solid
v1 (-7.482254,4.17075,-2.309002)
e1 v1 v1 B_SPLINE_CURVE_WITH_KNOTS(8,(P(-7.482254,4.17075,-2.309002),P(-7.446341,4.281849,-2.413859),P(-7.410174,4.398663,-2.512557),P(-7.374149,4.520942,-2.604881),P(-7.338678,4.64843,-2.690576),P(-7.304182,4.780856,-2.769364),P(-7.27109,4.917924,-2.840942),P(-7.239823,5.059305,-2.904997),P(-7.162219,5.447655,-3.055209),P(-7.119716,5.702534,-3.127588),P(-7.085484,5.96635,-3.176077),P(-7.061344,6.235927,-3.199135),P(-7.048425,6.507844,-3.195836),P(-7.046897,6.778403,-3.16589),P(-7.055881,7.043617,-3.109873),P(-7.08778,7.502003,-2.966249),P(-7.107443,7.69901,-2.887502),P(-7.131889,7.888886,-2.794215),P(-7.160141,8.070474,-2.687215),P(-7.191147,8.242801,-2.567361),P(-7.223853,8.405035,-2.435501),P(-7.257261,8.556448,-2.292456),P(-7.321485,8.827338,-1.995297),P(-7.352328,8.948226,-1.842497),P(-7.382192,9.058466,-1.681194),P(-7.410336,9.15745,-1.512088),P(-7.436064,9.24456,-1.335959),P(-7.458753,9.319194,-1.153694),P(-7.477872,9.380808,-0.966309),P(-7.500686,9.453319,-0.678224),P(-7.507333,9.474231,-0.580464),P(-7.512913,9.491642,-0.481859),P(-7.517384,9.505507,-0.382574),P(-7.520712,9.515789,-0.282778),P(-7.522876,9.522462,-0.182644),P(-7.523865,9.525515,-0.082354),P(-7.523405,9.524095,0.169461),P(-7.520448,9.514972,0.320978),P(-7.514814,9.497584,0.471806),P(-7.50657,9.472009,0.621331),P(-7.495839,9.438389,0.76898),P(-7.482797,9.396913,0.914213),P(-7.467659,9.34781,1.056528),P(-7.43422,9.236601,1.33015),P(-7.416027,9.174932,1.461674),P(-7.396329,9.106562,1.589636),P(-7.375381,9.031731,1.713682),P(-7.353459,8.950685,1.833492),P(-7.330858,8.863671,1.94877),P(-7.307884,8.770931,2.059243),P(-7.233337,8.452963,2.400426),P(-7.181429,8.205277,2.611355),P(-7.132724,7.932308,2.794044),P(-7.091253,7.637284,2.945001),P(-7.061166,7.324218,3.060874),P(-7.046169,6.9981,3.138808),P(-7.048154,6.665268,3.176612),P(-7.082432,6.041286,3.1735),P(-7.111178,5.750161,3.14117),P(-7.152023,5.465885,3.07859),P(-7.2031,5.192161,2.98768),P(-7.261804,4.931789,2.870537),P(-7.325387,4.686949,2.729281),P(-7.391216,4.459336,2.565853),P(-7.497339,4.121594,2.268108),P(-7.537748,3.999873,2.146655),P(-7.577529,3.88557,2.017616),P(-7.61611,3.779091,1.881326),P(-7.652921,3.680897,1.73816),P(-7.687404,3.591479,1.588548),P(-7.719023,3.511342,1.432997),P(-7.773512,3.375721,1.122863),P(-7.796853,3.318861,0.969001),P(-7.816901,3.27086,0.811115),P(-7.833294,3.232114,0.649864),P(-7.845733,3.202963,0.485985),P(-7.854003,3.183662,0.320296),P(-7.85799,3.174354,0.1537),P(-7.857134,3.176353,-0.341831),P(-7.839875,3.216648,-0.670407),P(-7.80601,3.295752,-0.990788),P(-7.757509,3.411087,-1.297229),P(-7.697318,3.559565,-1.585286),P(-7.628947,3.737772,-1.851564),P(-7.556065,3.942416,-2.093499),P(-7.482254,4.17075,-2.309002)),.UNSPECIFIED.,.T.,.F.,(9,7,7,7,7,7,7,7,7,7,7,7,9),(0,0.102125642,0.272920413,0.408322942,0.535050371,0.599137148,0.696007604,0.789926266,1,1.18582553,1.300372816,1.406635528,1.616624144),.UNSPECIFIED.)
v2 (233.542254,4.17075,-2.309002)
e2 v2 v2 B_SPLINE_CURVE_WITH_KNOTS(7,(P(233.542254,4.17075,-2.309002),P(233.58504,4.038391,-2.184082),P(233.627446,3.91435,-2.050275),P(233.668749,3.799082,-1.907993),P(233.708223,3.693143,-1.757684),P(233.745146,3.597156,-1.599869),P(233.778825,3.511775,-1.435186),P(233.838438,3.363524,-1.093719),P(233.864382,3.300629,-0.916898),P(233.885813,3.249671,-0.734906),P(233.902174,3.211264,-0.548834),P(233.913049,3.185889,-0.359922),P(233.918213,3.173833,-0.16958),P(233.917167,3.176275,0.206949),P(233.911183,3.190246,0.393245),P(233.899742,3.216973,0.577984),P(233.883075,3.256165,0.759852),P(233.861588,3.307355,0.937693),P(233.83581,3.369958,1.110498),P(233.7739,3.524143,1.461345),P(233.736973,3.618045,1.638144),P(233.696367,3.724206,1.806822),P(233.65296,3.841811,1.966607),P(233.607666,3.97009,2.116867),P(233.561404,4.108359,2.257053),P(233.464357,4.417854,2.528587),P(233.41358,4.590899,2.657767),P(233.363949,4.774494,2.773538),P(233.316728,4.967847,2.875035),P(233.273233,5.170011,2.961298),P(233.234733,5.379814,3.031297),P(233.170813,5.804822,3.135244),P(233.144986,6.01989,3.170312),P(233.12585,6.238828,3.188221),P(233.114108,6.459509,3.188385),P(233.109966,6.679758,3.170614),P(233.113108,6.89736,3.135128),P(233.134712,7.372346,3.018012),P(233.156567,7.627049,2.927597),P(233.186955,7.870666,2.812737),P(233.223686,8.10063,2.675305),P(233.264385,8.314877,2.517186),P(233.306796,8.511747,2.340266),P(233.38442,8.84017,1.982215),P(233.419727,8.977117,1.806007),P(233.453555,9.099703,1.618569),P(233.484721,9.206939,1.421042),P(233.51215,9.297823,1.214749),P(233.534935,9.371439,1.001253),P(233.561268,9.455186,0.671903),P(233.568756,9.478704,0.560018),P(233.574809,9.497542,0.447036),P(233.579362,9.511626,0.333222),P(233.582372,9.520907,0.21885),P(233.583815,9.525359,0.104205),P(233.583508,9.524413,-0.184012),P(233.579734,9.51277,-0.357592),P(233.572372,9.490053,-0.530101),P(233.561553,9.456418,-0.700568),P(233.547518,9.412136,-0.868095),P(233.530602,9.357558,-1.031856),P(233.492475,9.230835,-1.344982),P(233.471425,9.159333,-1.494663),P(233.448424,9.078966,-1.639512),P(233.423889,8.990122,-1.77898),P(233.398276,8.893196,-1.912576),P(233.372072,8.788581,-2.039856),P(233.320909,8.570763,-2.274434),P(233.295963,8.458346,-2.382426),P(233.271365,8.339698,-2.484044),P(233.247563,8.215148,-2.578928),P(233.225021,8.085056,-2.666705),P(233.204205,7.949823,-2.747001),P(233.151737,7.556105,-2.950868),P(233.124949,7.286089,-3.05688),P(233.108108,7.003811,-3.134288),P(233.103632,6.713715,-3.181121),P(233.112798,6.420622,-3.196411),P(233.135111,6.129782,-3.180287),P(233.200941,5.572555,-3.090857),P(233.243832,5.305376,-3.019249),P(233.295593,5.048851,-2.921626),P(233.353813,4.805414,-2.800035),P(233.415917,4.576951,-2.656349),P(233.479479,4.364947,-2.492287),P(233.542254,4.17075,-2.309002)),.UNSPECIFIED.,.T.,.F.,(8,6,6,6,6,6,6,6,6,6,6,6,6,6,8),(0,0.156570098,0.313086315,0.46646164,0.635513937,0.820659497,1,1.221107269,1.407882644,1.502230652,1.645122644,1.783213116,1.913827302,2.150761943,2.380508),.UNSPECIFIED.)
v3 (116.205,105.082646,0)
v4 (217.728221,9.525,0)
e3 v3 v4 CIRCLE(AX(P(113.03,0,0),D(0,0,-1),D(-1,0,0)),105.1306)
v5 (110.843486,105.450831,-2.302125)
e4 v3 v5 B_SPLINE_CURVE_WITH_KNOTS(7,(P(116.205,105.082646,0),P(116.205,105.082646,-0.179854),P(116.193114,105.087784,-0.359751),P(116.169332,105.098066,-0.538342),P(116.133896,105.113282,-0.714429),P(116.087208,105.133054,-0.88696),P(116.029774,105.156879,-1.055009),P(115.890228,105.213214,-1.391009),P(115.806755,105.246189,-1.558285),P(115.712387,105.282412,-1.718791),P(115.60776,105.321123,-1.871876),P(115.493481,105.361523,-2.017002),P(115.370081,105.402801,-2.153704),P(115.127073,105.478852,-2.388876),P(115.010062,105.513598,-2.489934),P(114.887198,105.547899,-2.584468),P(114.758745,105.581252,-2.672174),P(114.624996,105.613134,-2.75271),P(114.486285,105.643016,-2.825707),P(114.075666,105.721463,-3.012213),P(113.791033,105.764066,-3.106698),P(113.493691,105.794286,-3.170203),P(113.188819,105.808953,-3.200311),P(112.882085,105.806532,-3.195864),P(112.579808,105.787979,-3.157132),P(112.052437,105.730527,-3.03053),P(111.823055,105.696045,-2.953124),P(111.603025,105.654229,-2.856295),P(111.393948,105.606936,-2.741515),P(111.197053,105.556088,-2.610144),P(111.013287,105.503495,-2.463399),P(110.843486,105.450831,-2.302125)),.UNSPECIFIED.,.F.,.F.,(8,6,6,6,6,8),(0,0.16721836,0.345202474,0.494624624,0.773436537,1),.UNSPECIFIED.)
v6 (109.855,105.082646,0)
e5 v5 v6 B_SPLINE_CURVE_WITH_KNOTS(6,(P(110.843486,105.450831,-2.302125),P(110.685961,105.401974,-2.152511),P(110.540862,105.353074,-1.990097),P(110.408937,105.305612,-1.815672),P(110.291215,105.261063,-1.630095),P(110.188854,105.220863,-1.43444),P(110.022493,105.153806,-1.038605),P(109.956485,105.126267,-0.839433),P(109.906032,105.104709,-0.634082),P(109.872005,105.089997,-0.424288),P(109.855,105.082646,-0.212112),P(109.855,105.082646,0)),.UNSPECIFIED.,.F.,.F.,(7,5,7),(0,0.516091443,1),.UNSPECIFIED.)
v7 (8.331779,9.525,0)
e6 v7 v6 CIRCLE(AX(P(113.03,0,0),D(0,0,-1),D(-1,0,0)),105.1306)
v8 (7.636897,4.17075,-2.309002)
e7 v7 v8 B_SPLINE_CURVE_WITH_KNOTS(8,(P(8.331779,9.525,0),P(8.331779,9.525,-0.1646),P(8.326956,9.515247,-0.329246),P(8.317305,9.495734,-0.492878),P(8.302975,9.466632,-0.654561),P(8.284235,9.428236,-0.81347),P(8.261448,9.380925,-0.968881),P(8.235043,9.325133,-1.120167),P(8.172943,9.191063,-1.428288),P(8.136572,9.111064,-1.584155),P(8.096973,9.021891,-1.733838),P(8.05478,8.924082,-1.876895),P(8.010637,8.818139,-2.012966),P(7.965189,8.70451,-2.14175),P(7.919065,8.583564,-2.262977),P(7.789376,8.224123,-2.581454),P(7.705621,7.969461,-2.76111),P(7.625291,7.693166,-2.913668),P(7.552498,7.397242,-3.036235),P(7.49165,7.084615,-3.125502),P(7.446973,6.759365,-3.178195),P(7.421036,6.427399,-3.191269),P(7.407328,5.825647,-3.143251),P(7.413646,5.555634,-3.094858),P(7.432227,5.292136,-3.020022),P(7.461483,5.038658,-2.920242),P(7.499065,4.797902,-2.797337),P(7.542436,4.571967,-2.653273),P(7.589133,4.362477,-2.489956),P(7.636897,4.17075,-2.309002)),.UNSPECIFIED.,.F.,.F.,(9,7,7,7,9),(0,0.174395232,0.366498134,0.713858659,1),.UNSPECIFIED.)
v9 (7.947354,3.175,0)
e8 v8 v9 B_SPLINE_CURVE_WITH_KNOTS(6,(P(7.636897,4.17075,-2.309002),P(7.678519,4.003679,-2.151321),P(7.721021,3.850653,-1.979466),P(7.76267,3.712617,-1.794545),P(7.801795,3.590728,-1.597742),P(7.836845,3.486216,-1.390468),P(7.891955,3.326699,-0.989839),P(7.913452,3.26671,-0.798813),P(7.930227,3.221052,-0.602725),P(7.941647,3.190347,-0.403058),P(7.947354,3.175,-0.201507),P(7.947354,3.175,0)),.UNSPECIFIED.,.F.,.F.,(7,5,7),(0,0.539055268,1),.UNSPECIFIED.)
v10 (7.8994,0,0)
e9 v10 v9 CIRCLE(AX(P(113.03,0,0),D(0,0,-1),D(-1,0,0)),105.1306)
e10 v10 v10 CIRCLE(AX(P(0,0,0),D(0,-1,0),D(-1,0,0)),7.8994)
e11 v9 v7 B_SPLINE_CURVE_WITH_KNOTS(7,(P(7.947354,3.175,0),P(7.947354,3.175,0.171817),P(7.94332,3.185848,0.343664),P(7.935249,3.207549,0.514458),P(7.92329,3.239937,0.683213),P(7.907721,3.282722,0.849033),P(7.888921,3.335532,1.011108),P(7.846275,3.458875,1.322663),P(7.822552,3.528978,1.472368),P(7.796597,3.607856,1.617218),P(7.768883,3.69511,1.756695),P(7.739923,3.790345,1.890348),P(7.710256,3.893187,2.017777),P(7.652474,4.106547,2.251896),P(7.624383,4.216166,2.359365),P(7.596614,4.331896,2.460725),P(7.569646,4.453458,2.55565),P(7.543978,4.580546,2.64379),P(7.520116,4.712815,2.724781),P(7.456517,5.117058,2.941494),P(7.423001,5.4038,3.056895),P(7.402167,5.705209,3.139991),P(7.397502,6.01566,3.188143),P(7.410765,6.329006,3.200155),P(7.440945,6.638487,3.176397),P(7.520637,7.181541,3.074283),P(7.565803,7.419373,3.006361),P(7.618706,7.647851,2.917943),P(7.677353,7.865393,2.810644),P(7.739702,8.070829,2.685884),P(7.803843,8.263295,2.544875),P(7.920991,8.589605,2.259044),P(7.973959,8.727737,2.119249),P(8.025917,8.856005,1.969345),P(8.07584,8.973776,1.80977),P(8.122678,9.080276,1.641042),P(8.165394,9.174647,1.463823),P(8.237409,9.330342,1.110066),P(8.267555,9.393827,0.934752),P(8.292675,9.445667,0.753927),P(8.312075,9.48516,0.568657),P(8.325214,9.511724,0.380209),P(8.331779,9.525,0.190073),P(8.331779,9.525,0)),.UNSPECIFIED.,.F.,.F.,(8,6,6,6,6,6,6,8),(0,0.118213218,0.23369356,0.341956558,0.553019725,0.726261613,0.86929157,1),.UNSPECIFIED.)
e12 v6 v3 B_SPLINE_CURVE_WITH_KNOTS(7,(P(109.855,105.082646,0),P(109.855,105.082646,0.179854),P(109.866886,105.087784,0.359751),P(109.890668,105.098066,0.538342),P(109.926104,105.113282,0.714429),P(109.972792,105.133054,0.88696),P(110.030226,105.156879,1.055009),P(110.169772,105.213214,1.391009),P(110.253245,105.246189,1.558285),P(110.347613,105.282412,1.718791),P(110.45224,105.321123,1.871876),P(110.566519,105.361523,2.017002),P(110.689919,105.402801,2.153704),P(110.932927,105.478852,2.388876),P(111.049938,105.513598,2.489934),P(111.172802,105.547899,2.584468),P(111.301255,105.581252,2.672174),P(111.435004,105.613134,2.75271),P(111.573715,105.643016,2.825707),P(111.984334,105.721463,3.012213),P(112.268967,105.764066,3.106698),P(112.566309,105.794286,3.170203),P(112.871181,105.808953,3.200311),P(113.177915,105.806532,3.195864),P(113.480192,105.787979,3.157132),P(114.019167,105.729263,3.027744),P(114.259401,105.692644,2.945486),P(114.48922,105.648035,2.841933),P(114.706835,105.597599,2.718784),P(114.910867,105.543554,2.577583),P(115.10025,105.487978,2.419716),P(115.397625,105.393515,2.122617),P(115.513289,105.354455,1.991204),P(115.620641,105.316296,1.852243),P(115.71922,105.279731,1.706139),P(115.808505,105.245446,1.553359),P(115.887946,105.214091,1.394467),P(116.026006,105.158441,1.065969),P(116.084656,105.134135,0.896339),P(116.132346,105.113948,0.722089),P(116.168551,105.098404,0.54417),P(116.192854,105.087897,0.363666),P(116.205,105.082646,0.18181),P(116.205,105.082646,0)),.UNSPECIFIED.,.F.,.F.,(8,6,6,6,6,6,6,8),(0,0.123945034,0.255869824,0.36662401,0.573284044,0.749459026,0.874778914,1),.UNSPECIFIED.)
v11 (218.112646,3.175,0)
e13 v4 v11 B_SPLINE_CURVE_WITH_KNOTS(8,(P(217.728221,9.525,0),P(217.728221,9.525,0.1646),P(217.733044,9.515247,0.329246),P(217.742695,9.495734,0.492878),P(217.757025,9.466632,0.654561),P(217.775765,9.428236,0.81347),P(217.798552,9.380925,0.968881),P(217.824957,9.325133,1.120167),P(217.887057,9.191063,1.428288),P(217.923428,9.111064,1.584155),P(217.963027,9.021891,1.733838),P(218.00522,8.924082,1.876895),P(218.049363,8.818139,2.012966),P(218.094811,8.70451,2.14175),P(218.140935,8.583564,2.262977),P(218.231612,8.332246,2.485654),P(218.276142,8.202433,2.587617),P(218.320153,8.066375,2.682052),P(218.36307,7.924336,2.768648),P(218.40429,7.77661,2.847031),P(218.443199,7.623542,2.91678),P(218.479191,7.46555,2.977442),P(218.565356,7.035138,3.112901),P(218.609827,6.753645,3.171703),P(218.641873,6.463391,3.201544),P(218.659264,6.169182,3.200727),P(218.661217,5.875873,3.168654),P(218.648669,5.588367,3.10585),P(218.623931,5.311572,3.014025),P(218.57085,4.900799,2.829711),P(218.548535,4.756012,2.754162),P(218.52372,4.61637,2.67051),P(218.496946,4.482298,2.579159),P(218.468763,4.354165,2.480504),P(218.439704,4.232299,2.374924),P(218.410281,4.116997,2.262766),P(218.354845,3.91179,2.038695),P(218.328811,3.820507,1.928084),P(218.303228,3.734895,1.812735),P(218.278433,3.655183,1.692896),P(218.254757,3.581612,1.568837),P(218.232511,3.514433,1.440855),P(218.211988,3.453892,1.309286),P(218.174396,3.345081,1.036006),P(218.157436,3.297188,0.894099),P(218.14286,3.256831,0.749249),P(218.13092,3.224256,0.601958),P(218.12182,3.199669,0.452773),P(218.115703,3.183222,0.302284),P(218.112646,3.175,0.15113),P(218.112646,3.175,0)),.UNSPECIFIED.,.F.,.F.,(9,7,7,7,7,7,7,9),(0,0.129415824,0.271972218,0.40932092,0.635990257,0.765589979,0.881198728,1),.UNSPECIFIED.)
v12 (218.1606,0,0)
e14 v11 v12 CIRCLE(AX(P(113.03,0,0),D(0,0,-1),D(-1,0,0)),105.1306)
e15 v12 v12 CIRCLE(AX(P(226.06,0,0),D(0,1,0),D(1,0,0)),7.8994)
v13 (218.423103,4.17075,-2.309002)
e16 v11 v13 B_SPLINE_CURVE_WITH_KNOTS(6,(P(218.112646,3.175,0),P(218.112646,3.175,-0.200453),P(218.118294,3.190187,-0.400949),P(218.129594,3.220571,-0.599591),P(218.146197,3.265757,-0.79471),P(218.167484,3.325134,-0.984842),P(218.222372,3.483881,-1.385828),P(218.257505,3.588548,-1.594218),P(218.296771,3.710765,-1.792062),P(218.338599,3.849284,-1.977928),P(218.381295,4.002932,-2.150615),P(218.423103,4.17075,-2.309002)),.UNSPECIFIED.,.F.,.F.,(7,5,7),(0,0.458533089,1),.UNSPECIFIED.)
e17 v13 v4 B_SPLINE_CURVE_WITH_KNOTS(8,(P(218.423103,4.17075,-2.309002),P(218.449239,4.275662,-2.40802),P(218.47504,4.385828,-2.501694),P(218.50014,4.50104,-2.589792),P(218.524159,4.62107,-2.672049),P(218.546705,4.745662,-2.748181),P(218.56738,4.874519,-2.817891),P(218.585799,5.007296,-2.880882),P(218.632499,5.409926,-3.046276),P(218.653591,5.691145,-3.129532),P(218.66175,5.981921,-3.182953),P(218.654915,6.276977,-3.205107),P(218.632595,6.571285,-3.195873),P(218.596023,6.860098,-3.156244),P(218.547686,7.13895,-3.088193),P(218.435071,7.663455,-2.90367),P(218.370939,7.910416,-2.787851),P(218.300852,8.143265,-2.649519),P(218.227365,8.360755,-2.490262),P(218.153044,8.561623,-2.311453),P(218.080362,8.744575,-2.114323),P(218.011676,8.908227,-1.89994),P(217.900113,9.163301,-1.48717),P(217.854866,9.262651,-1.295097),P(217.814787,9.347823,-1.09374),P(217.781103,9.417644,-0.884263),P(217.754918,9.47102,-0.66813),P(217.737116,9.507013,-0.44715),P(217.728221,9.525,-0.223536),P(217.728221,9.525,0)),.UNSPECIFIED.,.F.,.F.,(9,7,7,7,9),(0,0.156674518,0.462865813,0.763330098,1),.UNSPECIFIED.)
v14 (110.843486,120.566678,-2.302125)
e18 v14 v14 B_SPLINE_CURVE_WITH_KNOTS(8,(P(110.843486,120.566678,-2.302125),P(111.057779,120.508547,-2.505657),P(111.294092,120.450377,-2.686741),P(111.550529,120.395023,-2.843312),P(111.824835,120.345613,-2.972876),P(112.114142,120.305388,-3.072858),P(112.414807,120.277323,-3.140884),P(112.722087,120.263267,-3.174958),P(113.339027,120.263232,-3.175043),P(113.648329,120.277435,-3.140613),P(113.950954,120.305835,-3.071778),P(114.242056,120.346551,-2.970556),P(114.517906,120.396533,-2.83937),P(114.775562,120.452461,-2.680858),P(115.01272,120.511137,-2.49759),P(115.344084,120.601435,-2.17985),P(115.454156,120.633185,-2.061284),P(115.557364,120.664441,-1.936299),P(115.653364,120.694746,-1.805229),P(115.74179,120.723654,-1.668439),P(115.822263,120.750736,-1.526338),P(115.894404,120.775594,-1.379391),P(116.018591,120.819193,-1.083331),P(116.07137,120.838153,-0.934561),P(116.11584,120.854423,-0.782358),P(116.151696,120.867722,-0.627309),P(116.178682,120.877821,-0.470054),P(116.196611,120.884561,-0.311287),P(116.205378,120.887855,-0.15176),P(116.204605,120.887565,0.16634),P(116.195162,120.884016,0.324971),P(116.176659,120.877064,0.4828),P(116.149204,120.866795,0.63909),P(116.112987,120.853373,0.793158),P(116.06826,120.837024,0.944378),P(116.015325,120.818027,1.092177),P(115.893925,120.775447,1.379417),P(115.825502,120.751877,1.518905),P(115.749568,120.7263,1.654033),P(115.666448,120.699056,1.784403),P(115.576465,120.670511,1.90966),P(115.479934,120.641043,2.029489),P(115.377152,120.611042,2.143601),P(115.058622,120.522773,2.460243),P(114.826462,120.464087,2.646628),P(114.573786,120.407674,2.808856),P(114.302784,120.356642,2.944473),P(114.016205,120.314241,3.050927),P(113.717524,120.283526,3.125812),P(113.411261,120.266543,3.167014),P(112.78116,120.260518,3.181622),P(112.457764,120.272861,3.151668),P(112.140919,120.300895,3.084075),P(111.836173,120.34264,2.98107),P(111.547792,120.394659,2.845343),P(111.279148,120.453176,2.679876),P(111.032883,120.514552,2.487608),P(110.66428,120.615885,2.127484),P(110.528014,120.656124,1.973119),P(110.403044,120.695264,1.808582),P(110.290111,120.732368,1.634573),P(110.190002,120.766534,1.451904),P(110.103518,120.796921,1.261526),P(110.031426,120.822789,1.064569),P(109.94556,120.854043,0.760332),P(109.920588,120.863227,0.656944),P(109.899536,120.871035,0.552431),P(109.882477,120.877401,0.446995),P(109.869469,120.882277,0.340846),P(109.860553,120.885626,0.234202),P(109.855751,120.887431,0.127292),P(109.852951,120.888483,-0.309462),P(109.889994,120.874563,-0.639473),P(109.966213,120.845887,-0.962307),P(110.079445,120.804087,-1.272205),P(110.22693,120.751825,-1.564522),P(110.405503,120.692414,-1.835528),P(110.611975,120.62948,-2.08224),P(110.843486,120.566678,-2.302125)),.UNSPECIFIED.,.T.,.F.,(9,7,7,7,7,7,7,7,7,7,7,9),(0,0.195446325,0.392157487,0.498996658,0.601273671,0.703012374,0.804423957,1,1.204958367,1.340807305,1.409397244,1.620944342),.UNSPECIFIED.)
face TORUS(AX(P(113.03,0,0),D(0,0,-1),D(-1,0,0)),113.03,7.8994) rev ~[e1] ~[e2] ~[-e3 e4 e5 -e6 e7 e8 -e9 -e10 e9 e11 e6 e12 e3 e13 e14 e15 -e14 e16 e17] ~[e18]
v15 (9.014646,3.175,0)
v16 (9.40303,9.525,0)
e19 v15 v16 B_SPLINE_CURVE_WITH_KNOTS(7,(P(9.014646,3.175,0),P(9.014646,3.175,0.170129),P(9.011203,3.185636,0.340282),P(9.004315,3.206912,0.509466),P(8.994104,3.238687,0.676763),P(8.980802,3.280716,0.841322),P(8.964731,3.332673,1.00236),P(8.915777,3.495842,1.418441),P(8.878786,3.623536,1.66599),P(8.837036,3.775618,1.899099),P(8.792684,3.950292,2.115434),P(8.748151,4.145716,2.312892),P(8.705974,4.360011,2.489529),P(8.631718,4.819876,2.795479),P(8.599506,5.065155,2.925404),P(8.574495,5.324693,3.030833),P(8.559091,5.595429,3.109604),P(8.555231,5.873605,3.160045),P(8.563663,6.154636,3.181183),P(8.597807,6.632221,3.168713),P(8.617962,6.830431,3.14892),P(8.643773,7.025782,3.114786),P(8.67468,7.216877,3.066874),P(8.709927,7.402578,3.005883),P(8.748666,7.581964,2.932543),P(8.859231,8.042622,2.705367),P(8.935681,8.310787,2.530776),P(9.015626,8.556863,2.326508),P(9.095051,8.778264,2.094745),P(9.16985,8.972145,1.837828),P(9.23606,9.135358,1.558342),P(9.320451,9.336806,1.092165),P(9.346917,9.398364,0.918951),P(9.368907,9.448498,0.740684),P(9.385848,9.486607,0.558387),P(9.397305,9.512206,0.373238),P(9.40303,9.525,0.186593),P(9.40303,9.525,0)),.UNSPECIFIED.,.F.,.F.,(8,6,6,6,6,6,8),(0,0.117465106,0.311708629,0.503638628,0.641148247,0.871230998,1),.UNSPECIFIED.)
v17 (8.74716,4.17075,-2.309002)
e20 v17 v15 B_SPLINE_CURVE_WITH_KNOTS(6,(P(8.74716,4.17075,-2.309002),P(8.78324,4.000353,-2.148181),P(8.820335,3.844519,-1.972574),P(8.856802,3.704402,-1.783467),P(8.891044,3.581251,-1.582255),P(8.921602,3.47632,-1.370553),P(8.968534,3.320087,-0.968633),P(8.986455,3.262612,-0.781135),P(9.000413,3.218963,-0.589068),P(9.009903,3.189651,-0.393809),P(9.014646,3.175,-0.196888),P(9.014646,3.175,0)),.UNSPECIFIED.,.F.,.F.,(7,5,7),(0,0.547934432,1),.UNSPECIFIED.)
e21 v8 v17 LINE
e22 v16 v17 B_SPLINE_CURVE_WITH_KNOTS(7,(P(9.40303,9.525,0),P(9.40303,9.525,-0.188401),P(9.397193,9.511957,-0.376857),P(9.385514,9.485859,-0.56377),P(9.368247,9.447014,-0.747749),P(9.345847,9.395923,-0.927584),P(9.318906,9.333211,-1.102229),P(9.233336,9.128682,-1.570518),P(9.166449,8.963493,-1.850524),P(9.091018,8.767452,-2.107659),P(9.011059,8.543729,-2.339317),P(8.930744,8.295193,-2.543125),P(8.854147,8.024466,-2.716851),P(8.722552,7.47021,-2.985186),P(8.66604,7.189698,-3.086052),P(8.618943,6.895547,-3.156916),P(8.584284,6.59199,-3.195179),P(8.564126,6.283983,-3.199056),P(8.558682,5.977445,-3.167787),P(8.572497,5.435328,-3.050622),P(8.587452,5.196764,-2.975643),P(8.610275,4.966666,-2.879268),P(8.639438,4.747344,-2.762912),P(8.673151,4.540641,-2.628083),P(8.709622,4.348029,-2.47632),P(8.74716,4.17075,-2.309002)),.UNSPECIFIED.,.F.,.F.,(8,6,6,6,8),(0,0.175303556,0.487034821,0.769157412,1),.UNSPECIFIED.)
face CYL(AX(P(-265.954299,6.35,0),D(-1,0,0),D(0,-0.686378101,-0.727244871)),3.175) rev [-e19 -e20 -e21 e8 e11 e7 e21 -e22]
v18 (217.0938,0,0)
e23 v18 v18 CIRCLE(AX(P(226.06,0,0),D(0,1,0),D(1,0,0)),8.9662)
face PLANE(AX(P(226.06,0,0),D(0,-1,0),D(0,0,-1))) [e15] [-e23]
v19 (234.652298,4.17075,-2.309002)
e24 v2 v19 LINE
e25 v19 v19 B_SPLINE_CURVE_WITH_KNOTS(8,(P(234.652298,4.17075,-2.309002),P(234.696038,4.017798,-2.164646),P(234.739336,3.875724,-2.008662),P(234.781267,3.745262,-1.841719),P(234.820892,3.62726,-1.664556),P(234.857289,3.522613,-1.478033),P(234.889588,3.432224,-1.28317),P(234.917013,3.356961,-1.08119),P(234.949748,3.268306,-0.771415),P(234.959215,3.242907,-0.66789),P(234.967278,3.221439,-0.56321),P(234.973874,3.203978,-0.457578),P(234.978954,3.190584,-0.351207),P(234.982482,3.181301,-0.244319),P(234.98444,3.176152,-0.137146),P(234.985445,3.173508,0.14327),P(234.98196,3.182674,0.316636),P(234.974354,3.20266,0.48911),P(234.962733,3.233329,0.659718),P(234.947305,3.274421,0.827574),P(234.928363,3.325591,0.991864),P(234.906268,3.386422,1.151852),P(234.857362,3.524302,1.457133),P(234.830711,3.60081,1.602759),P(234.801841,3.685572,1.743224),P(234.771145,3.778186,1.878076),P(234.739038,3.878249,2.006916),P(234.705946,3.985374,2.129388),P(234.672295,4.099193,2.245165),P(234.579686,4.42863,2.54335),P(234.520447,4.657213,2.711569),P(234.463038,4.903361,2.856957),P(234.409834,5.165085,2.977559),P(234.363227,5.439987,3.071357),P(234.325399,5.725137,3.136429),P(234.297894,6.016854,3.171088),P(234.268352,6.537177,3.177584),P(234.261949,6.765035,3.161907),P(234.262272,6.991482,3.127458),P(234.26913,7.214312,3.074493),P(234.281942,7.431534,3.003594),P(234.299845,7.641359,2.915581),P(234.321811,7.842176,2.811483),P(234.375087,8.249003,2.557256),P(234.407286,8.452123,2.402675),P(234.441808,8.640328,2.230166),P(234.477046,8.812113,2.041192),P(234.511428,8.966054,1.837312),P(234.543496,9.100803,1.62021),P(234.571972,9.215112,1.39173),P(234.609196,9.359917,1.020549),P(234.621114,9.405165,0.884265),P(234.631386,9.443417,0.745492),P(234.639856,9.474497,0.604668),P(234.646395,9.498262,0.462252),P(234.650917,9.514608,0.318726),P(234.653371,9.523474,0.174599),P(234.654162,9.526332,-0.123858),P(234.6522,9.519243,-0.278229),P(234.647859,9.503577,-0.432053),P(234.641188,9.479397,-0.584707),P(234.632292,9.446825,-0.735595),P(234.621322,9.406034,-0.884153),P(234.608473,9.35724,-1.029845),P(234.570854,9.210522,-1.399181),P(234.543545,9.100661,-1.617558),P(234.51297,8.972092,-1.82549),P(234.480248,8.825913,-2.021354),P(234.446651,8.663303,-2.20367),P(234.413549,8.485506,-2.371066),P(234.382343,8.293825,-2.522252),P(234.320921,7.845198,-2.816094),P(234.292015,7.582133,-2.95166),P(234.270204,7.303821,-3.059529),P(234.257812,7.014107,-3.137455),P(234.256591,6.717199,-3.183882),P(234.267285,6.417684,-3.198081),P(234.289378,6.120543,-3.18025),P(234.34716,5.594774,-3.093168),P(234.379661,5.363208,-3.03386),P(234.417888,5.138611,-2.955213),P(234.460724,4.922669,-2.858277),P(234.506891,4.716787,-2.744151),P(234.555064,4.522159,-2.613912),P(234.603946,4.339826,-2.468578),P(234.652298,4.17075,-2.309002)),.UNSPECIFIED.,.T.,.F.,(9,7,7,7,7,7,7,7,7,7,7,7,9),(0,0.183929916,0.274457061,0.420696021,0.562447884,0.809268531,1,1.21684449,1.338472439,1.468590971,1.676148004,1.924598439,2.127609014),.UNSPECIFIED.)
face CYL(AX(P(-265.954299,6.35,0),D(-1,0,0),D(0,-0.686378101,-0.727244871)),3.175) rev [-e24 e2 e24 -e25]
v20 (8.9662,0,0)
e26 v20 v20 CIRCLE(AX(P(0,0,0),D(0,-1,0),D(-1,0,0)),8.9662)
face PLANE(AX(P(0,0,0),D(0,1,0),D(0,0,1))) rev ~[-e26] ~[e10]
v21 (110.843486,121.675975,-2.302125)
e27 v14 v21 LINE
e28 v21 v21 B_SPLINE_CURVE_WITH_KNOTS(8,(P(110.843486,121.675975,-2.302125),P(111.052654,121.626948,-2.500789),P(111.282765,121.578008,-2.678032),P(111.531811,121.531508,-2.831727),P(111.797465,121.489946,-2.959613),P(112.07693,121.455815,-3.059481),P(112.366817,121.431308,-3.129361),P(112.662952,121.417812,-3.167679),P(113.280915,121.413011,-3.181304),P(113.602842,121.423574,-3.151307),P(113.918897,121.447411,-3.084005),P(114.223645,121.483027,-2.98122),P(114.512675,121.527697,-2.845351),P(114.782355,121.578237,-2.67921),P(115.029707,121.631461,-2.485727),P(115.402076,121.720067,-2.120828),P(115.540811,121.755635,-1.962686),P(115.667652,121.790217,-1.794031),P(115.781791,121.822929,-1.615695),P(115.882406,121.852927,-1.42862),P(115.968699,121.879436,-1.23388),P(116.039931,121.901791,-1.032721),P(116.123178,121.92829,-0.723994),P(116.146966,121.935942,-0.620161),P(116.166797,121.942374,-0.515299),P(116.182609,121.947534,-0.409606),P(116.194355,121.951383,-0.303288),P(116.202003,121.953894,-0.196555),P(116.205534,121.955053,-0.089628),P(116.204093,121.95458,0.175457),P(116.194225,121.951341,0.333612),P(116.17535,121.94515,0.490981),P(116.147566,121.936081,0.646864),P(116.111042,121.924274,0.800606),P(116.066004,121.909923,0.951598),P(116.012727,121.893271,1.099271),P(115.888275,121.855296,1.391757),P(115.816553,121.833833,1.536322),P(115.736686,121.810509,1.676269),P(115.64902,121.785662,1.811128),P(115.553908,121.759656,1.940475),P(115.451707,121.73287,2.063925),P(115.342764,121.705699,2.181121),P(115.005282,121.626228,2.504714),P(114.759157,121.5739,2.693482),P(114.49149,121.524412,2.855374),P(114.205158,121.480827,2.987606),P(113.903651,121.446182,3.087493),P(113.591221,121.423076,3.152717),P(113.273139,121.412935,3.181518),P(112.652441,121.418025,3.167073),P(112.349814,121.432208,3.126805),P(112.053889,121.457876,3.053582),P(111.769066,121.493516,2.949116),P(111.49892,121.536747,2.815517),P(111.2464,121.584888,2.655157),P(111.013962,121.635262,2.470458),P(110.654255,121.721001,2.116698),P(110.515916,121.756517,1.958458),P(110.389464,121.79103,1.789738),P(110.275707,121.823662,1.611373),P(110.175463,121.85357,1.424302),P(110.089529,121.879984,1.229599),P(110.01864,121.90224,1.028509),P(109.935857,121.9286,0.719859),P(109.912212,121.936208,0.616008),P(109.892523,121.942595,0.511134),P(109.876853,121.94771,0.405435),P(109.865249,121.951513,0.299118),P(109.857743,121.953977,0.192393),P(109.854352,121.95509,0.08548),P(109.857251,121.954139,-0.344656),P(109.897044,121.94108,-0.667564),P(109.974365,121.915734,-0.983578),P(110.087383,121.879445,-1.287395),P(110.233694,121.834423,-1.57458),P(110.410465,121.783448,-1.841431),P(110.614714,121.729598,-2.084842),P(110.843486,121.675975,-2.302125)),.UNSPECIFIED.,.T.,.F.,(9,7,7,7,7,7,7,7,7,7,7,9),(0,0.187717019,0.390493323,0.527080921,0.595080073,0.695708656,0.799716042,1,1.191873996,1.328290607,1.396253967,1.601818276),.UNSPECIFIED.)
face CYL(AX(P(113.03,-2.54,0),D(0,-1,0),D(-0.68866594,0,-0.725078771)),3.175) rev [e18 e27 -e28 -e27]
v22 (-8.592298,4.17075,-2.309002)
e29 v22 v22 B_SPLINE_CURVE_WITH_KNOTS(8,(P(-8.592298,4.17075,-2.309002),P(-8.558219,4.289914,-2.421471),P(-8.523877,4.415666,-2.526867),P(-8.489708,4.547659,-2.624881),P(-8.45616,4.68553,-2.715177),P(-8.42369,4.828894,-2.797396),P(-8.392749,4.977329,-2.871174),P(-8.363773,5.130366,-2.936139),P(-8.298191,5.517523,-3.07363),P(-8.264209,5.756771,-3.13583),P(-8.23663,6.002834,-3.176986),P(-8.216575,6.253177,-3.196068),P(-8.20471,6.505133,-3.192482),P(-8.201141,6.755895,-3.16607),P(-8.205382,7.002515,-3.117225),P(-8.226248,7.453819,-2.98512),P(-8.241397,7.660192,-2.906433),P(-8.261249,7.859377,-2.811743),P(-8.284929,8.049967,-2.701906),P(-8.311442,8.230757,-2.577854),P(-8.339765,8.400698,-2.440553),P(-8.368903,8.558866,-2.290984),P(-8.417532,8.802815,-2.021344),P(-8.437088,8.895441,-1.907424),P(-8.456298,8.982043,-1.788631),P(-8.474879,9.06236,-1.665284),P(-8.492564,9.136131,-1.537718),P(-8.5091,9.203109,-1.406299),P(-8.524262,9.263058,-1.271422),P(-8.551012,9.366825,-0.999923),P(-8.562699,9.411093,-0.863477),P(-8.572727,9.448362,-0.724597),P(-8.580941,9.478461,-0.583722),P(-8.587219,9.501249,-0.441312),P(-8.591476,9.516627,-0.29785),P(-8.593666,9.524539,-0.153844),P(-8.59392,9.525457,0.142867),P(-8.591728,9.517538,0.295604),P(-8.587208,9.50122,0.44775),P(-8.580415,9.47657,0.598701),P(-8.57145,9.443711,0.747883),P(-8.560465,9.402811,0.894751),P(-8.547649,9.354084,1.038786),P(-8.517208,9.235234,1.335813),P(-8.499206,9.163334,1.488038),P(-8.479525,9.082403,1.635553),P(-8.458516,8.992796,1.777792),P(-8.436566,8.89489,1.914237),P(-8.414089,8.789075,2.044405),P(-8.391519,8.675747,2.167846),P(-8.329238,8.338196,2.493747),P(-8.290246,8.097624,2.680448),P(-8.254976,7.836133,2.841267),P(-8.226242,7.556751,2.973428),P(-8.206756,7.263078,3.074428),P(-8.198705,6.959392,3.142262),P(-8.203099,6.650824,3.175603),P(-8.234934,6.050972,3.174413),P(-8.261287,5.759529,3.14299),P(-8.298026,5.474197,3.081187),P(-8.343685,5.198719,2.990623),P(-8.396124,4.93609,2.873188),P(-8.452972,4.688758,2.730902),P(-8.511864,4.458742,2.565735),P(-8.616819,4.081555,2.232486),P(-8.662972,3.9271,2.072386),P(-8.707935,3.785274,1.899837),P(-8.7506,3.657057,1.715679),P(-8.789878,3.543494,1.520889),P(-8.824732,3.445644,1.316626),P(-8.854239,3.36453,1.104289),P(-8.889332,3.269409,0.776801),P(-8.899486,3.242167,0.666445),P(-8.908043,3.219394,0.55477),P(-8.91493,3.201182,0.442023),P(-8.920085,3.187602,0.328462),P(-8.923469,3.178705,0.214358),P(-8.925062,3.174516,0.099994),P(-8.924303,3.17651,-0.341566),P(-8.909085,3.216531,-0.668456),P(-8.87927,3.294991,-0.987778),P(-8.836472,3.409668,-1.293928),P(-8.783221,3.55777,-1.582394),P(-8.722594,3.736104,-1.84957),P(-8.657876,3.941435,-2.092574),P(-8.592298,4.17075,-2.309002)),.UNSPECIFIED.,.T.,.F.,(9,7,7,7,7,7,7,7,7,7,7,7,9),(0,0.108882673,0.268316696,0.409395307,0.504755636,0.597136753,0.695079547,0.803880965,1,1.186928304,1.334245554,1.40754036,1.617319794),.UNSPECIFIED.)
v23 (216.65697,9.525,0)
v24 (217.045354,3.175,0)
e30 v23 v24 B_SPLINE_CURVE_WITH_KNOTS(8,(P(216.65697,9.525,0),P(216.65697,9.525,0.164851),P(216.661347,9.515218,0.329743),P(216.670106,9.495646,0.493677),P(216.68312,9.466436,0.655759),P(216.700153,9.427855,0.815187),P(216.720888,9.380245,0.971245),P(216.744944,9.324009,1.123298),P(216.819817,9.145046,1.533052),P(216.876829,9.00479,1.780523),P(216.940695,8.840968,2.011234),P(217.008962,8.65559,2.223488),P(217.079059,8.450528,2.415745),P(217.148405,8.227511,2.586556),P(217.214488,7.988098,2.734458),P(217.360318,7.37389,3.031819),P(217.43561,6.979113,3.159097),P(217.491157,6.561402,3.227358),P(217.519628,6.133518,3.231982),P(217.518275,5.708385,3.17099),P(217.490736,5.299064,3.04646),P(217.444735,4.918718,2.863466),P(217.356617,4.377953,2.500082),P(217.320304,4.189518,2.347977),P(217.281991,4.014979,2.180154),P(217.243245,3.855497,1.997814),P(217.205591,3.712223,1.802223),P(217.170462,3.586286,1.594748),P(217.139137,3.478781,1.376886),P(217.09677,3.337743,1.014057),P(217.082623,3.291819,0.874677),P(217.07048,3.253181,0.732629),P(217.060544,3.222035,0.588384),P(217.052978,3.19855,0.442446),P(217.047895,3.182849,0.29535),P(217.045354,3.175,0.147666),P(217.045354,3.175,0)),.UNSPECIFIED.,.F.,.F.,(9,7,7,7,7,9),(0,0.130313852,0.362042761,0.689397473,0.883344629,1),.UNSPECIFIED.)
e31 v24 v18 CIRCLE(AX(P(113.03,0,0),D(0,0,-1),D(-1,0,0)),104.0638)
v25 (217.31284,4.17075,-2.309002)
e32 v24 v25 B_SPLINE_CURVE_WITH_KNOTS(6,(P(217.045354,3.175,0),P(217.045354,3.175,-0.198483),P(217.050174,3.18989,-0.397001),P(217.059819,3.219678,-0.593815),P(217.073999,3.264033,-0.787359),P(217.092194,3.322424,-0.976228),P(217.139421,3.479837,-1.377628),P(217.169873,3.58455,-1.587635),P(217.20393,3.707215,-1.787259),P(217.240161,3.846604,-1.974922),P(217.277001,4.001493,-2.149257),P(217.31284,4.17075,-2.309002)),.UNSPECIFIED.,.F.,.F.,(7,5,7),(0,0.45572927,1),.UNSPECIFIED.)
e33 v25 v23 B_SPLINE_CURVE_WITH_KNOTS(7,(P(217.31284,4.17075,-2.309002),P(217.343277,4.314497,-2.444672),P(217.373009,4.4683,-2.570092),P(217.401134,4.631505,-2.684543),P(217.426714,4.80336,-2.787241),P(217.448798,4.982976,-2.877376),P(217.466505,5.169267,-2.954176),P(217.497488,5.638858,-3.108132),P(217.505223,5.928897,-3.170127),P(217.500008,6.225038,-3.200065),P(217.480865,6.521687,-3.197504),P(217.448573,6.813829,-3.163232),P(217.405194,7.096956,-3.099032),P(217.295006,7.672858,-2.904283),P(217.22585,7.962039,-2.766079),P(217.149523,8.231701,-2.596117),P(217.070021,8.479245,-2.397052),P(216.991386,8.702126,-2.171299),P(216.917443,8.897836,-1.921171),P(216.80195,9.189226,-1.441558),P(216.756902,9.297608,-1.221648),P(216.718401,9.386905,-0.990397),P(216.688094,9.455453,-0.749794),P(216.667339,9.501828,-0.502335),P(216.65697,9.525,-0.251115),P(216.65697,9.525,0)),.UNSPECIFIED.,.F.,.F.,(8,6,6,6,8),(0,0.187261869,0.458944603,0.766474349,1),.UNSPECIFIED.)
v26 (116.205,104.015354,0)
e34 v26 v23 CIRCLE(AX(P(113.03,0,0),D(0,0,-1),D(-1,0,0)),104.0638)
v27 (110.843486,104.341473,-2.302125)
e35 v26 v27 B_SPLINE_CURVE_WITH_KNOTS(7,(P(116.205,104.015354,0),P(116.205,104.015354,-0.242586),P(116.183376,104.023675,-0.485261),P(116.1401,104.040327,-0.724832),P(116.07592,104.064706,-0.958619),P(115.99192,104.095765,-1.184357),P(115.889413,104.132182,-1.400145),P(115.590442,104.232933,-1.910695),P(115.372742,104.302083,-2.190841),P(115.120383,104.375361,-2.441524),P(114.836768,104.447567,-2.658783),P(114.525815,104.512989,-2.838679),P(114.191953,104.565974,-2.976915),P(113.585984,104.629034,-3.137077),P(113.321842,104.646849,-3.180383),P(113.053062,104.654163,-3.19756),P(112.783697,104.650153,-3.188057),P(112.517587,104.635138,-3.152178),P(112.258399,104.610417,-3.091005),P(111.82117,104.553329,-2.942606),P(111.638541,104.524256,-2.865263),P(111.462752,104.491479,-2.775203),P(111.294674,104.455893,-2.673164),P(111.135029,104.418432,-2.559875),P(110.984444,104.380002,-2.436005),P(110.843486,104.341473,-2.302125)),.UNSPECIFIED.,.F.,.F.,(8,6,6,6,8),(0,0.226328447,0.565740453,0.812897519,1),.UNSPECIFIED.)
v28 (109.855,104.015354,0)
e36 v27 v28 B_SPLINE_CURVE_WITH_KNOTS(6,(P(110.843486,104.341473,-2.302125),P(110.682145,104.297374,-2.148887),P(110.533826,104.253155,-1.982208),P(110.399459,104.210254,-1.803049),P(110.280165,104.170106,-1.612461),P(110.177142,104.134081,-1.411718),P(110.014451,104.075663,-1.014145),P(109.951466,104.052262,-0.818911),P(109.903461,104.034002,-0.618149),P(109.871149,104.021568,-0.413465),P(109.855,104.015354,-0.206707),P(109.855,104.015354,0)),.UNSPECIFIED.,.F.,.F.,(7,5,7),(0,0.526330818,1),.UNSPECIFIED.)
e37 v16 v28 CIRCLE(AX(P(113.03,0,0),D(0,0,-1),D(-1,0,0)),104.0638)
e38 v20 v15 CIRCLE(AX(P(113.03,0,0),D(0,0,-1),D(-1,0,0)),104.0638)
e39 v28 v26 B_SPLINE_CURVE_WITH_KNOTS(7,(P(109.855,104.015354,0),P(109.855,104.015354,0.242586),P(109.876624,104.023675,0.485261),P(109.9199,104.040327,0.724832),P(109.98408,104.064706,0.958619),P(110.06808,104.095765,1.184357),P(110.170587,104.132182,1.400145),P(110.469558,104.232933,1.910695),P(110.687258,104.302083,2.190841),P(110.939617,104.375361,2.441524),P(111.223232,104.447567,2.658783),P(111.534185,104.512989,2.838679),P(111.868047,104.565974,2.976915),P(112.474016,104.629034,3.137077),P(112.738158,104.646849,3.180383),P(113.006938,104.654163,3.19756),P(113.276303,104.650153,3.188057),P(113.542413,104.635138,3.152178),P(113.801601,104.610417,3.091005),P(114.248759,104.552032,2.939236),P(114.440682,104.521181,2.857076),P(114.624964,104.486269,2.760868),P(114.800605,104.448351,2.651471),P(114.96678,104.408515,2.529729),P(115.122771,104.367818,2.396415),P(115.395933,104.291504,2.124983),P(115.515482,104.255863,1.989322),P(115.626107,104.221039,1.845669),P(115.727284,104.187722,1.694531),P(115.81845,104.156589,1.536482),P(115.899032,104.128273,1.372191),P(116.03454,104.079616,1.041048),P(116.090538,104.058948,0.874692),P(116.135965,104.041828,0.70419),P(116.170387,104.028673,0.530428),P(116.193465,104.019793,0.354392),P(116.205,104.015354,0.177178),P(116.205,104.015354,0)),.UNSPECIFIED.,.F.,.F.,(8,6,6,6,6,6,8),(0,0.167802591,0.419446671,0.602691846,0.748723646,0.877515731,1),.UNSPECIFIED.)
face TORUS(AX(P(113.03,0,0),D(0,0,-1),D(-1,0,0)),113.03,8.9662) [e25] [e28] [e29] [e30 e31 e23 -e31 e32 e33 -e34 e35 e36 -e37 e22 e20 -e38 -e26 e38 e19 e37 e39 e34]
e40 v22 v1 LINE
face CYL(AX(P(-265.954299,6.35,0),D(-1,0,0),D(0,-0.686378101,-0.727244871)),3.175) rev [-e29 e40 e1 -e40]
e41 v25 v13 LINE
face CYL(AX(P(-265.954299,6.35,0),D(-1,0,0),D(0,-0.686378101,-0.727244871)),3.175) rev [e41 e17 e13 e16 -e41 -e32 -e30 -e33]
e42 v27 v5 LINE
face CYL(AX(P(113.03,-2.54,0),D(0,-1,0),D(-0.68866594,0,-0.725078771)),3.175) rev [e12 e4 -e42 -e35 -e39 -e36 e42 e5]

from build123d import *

# Parameters (mm, degrees)
SKETCH1_R               = 8.9662
SKETCH1_R_2             = 7.8994
CUT_EXTRUDE1_DEPTH      = 265.954298543
CUT_EXTRUDE1_DEPTH_BACK = 265.954298543
SKETCH3_R               = 3.175
CUT_EXTRUDE4_DEPTH      = 265.954298543
CUT_EXTRUDE4_DEPTH_BACK = 2.54
SKETCH6_R               = 3.175


with BuildPart() as part:
    # Sweep1: sweep along a path in Sketch2
    with BuildLine(Plane.XY) as sweep1_path:
        ThreePointArc((0, 0), (113.03, 113.03), (226.06, 0))
    # Sketch1 → Sweep1 (sweep)
    with BuildSketch(Plane(origin=(0, 0, 0), x_dir=(1, 0, 0), z_dir=(0, 1, 0))):
        Circle(SKETCH1_R)
        Circle(SKETCH1_R_2, mode=Mode.SUBTRACT)
    sweep(path=sweep1_path.line)

    # Sketch3 → Cut-Extrude1 (cut, two sides: drawn at the far end of the back side and taken through both)
    with BuildSketch(Plane(origin=(0, 0, 0), x_dir=(0, 0, -1), z_dir=(1, 0, 0)).offset(-CUT_EXTRUDE1_DEPTH_BACK)):
        with Locations(Location((0, 6.35, 0), (0, 0, 316.655916407))):
            Circle(SKETCH3_R)
    extrude(amount=CUT_EXTRUDE1_DEPTH + CUT_EXTRUDE1_DEPTH_BACK, mode=Mode.SUBTRACT)

    # Sketch6 → Cut-Extrude4 (cut, two sides: drawn at the far end of the back side and taken through both)
    with BuildSketch(Plane(origin=(0, 0, 0), x_dir=(1, 0, 0), z_dir=(0, 1, 0)).offset(-CUT_EXTRUDE4_DEPTH_BACK)):
        with Locations(Location((113.03, 0, 0), (0, 0, 133.524598996))):
            Circle(SKETCH6_R)
    extrude(amount=CUT_EXTRUDE4_DEPTH + CUT_EXTRUDE4_DEPTH_BACK, mode=Mode.SUBTRACT)


solid = part.part
